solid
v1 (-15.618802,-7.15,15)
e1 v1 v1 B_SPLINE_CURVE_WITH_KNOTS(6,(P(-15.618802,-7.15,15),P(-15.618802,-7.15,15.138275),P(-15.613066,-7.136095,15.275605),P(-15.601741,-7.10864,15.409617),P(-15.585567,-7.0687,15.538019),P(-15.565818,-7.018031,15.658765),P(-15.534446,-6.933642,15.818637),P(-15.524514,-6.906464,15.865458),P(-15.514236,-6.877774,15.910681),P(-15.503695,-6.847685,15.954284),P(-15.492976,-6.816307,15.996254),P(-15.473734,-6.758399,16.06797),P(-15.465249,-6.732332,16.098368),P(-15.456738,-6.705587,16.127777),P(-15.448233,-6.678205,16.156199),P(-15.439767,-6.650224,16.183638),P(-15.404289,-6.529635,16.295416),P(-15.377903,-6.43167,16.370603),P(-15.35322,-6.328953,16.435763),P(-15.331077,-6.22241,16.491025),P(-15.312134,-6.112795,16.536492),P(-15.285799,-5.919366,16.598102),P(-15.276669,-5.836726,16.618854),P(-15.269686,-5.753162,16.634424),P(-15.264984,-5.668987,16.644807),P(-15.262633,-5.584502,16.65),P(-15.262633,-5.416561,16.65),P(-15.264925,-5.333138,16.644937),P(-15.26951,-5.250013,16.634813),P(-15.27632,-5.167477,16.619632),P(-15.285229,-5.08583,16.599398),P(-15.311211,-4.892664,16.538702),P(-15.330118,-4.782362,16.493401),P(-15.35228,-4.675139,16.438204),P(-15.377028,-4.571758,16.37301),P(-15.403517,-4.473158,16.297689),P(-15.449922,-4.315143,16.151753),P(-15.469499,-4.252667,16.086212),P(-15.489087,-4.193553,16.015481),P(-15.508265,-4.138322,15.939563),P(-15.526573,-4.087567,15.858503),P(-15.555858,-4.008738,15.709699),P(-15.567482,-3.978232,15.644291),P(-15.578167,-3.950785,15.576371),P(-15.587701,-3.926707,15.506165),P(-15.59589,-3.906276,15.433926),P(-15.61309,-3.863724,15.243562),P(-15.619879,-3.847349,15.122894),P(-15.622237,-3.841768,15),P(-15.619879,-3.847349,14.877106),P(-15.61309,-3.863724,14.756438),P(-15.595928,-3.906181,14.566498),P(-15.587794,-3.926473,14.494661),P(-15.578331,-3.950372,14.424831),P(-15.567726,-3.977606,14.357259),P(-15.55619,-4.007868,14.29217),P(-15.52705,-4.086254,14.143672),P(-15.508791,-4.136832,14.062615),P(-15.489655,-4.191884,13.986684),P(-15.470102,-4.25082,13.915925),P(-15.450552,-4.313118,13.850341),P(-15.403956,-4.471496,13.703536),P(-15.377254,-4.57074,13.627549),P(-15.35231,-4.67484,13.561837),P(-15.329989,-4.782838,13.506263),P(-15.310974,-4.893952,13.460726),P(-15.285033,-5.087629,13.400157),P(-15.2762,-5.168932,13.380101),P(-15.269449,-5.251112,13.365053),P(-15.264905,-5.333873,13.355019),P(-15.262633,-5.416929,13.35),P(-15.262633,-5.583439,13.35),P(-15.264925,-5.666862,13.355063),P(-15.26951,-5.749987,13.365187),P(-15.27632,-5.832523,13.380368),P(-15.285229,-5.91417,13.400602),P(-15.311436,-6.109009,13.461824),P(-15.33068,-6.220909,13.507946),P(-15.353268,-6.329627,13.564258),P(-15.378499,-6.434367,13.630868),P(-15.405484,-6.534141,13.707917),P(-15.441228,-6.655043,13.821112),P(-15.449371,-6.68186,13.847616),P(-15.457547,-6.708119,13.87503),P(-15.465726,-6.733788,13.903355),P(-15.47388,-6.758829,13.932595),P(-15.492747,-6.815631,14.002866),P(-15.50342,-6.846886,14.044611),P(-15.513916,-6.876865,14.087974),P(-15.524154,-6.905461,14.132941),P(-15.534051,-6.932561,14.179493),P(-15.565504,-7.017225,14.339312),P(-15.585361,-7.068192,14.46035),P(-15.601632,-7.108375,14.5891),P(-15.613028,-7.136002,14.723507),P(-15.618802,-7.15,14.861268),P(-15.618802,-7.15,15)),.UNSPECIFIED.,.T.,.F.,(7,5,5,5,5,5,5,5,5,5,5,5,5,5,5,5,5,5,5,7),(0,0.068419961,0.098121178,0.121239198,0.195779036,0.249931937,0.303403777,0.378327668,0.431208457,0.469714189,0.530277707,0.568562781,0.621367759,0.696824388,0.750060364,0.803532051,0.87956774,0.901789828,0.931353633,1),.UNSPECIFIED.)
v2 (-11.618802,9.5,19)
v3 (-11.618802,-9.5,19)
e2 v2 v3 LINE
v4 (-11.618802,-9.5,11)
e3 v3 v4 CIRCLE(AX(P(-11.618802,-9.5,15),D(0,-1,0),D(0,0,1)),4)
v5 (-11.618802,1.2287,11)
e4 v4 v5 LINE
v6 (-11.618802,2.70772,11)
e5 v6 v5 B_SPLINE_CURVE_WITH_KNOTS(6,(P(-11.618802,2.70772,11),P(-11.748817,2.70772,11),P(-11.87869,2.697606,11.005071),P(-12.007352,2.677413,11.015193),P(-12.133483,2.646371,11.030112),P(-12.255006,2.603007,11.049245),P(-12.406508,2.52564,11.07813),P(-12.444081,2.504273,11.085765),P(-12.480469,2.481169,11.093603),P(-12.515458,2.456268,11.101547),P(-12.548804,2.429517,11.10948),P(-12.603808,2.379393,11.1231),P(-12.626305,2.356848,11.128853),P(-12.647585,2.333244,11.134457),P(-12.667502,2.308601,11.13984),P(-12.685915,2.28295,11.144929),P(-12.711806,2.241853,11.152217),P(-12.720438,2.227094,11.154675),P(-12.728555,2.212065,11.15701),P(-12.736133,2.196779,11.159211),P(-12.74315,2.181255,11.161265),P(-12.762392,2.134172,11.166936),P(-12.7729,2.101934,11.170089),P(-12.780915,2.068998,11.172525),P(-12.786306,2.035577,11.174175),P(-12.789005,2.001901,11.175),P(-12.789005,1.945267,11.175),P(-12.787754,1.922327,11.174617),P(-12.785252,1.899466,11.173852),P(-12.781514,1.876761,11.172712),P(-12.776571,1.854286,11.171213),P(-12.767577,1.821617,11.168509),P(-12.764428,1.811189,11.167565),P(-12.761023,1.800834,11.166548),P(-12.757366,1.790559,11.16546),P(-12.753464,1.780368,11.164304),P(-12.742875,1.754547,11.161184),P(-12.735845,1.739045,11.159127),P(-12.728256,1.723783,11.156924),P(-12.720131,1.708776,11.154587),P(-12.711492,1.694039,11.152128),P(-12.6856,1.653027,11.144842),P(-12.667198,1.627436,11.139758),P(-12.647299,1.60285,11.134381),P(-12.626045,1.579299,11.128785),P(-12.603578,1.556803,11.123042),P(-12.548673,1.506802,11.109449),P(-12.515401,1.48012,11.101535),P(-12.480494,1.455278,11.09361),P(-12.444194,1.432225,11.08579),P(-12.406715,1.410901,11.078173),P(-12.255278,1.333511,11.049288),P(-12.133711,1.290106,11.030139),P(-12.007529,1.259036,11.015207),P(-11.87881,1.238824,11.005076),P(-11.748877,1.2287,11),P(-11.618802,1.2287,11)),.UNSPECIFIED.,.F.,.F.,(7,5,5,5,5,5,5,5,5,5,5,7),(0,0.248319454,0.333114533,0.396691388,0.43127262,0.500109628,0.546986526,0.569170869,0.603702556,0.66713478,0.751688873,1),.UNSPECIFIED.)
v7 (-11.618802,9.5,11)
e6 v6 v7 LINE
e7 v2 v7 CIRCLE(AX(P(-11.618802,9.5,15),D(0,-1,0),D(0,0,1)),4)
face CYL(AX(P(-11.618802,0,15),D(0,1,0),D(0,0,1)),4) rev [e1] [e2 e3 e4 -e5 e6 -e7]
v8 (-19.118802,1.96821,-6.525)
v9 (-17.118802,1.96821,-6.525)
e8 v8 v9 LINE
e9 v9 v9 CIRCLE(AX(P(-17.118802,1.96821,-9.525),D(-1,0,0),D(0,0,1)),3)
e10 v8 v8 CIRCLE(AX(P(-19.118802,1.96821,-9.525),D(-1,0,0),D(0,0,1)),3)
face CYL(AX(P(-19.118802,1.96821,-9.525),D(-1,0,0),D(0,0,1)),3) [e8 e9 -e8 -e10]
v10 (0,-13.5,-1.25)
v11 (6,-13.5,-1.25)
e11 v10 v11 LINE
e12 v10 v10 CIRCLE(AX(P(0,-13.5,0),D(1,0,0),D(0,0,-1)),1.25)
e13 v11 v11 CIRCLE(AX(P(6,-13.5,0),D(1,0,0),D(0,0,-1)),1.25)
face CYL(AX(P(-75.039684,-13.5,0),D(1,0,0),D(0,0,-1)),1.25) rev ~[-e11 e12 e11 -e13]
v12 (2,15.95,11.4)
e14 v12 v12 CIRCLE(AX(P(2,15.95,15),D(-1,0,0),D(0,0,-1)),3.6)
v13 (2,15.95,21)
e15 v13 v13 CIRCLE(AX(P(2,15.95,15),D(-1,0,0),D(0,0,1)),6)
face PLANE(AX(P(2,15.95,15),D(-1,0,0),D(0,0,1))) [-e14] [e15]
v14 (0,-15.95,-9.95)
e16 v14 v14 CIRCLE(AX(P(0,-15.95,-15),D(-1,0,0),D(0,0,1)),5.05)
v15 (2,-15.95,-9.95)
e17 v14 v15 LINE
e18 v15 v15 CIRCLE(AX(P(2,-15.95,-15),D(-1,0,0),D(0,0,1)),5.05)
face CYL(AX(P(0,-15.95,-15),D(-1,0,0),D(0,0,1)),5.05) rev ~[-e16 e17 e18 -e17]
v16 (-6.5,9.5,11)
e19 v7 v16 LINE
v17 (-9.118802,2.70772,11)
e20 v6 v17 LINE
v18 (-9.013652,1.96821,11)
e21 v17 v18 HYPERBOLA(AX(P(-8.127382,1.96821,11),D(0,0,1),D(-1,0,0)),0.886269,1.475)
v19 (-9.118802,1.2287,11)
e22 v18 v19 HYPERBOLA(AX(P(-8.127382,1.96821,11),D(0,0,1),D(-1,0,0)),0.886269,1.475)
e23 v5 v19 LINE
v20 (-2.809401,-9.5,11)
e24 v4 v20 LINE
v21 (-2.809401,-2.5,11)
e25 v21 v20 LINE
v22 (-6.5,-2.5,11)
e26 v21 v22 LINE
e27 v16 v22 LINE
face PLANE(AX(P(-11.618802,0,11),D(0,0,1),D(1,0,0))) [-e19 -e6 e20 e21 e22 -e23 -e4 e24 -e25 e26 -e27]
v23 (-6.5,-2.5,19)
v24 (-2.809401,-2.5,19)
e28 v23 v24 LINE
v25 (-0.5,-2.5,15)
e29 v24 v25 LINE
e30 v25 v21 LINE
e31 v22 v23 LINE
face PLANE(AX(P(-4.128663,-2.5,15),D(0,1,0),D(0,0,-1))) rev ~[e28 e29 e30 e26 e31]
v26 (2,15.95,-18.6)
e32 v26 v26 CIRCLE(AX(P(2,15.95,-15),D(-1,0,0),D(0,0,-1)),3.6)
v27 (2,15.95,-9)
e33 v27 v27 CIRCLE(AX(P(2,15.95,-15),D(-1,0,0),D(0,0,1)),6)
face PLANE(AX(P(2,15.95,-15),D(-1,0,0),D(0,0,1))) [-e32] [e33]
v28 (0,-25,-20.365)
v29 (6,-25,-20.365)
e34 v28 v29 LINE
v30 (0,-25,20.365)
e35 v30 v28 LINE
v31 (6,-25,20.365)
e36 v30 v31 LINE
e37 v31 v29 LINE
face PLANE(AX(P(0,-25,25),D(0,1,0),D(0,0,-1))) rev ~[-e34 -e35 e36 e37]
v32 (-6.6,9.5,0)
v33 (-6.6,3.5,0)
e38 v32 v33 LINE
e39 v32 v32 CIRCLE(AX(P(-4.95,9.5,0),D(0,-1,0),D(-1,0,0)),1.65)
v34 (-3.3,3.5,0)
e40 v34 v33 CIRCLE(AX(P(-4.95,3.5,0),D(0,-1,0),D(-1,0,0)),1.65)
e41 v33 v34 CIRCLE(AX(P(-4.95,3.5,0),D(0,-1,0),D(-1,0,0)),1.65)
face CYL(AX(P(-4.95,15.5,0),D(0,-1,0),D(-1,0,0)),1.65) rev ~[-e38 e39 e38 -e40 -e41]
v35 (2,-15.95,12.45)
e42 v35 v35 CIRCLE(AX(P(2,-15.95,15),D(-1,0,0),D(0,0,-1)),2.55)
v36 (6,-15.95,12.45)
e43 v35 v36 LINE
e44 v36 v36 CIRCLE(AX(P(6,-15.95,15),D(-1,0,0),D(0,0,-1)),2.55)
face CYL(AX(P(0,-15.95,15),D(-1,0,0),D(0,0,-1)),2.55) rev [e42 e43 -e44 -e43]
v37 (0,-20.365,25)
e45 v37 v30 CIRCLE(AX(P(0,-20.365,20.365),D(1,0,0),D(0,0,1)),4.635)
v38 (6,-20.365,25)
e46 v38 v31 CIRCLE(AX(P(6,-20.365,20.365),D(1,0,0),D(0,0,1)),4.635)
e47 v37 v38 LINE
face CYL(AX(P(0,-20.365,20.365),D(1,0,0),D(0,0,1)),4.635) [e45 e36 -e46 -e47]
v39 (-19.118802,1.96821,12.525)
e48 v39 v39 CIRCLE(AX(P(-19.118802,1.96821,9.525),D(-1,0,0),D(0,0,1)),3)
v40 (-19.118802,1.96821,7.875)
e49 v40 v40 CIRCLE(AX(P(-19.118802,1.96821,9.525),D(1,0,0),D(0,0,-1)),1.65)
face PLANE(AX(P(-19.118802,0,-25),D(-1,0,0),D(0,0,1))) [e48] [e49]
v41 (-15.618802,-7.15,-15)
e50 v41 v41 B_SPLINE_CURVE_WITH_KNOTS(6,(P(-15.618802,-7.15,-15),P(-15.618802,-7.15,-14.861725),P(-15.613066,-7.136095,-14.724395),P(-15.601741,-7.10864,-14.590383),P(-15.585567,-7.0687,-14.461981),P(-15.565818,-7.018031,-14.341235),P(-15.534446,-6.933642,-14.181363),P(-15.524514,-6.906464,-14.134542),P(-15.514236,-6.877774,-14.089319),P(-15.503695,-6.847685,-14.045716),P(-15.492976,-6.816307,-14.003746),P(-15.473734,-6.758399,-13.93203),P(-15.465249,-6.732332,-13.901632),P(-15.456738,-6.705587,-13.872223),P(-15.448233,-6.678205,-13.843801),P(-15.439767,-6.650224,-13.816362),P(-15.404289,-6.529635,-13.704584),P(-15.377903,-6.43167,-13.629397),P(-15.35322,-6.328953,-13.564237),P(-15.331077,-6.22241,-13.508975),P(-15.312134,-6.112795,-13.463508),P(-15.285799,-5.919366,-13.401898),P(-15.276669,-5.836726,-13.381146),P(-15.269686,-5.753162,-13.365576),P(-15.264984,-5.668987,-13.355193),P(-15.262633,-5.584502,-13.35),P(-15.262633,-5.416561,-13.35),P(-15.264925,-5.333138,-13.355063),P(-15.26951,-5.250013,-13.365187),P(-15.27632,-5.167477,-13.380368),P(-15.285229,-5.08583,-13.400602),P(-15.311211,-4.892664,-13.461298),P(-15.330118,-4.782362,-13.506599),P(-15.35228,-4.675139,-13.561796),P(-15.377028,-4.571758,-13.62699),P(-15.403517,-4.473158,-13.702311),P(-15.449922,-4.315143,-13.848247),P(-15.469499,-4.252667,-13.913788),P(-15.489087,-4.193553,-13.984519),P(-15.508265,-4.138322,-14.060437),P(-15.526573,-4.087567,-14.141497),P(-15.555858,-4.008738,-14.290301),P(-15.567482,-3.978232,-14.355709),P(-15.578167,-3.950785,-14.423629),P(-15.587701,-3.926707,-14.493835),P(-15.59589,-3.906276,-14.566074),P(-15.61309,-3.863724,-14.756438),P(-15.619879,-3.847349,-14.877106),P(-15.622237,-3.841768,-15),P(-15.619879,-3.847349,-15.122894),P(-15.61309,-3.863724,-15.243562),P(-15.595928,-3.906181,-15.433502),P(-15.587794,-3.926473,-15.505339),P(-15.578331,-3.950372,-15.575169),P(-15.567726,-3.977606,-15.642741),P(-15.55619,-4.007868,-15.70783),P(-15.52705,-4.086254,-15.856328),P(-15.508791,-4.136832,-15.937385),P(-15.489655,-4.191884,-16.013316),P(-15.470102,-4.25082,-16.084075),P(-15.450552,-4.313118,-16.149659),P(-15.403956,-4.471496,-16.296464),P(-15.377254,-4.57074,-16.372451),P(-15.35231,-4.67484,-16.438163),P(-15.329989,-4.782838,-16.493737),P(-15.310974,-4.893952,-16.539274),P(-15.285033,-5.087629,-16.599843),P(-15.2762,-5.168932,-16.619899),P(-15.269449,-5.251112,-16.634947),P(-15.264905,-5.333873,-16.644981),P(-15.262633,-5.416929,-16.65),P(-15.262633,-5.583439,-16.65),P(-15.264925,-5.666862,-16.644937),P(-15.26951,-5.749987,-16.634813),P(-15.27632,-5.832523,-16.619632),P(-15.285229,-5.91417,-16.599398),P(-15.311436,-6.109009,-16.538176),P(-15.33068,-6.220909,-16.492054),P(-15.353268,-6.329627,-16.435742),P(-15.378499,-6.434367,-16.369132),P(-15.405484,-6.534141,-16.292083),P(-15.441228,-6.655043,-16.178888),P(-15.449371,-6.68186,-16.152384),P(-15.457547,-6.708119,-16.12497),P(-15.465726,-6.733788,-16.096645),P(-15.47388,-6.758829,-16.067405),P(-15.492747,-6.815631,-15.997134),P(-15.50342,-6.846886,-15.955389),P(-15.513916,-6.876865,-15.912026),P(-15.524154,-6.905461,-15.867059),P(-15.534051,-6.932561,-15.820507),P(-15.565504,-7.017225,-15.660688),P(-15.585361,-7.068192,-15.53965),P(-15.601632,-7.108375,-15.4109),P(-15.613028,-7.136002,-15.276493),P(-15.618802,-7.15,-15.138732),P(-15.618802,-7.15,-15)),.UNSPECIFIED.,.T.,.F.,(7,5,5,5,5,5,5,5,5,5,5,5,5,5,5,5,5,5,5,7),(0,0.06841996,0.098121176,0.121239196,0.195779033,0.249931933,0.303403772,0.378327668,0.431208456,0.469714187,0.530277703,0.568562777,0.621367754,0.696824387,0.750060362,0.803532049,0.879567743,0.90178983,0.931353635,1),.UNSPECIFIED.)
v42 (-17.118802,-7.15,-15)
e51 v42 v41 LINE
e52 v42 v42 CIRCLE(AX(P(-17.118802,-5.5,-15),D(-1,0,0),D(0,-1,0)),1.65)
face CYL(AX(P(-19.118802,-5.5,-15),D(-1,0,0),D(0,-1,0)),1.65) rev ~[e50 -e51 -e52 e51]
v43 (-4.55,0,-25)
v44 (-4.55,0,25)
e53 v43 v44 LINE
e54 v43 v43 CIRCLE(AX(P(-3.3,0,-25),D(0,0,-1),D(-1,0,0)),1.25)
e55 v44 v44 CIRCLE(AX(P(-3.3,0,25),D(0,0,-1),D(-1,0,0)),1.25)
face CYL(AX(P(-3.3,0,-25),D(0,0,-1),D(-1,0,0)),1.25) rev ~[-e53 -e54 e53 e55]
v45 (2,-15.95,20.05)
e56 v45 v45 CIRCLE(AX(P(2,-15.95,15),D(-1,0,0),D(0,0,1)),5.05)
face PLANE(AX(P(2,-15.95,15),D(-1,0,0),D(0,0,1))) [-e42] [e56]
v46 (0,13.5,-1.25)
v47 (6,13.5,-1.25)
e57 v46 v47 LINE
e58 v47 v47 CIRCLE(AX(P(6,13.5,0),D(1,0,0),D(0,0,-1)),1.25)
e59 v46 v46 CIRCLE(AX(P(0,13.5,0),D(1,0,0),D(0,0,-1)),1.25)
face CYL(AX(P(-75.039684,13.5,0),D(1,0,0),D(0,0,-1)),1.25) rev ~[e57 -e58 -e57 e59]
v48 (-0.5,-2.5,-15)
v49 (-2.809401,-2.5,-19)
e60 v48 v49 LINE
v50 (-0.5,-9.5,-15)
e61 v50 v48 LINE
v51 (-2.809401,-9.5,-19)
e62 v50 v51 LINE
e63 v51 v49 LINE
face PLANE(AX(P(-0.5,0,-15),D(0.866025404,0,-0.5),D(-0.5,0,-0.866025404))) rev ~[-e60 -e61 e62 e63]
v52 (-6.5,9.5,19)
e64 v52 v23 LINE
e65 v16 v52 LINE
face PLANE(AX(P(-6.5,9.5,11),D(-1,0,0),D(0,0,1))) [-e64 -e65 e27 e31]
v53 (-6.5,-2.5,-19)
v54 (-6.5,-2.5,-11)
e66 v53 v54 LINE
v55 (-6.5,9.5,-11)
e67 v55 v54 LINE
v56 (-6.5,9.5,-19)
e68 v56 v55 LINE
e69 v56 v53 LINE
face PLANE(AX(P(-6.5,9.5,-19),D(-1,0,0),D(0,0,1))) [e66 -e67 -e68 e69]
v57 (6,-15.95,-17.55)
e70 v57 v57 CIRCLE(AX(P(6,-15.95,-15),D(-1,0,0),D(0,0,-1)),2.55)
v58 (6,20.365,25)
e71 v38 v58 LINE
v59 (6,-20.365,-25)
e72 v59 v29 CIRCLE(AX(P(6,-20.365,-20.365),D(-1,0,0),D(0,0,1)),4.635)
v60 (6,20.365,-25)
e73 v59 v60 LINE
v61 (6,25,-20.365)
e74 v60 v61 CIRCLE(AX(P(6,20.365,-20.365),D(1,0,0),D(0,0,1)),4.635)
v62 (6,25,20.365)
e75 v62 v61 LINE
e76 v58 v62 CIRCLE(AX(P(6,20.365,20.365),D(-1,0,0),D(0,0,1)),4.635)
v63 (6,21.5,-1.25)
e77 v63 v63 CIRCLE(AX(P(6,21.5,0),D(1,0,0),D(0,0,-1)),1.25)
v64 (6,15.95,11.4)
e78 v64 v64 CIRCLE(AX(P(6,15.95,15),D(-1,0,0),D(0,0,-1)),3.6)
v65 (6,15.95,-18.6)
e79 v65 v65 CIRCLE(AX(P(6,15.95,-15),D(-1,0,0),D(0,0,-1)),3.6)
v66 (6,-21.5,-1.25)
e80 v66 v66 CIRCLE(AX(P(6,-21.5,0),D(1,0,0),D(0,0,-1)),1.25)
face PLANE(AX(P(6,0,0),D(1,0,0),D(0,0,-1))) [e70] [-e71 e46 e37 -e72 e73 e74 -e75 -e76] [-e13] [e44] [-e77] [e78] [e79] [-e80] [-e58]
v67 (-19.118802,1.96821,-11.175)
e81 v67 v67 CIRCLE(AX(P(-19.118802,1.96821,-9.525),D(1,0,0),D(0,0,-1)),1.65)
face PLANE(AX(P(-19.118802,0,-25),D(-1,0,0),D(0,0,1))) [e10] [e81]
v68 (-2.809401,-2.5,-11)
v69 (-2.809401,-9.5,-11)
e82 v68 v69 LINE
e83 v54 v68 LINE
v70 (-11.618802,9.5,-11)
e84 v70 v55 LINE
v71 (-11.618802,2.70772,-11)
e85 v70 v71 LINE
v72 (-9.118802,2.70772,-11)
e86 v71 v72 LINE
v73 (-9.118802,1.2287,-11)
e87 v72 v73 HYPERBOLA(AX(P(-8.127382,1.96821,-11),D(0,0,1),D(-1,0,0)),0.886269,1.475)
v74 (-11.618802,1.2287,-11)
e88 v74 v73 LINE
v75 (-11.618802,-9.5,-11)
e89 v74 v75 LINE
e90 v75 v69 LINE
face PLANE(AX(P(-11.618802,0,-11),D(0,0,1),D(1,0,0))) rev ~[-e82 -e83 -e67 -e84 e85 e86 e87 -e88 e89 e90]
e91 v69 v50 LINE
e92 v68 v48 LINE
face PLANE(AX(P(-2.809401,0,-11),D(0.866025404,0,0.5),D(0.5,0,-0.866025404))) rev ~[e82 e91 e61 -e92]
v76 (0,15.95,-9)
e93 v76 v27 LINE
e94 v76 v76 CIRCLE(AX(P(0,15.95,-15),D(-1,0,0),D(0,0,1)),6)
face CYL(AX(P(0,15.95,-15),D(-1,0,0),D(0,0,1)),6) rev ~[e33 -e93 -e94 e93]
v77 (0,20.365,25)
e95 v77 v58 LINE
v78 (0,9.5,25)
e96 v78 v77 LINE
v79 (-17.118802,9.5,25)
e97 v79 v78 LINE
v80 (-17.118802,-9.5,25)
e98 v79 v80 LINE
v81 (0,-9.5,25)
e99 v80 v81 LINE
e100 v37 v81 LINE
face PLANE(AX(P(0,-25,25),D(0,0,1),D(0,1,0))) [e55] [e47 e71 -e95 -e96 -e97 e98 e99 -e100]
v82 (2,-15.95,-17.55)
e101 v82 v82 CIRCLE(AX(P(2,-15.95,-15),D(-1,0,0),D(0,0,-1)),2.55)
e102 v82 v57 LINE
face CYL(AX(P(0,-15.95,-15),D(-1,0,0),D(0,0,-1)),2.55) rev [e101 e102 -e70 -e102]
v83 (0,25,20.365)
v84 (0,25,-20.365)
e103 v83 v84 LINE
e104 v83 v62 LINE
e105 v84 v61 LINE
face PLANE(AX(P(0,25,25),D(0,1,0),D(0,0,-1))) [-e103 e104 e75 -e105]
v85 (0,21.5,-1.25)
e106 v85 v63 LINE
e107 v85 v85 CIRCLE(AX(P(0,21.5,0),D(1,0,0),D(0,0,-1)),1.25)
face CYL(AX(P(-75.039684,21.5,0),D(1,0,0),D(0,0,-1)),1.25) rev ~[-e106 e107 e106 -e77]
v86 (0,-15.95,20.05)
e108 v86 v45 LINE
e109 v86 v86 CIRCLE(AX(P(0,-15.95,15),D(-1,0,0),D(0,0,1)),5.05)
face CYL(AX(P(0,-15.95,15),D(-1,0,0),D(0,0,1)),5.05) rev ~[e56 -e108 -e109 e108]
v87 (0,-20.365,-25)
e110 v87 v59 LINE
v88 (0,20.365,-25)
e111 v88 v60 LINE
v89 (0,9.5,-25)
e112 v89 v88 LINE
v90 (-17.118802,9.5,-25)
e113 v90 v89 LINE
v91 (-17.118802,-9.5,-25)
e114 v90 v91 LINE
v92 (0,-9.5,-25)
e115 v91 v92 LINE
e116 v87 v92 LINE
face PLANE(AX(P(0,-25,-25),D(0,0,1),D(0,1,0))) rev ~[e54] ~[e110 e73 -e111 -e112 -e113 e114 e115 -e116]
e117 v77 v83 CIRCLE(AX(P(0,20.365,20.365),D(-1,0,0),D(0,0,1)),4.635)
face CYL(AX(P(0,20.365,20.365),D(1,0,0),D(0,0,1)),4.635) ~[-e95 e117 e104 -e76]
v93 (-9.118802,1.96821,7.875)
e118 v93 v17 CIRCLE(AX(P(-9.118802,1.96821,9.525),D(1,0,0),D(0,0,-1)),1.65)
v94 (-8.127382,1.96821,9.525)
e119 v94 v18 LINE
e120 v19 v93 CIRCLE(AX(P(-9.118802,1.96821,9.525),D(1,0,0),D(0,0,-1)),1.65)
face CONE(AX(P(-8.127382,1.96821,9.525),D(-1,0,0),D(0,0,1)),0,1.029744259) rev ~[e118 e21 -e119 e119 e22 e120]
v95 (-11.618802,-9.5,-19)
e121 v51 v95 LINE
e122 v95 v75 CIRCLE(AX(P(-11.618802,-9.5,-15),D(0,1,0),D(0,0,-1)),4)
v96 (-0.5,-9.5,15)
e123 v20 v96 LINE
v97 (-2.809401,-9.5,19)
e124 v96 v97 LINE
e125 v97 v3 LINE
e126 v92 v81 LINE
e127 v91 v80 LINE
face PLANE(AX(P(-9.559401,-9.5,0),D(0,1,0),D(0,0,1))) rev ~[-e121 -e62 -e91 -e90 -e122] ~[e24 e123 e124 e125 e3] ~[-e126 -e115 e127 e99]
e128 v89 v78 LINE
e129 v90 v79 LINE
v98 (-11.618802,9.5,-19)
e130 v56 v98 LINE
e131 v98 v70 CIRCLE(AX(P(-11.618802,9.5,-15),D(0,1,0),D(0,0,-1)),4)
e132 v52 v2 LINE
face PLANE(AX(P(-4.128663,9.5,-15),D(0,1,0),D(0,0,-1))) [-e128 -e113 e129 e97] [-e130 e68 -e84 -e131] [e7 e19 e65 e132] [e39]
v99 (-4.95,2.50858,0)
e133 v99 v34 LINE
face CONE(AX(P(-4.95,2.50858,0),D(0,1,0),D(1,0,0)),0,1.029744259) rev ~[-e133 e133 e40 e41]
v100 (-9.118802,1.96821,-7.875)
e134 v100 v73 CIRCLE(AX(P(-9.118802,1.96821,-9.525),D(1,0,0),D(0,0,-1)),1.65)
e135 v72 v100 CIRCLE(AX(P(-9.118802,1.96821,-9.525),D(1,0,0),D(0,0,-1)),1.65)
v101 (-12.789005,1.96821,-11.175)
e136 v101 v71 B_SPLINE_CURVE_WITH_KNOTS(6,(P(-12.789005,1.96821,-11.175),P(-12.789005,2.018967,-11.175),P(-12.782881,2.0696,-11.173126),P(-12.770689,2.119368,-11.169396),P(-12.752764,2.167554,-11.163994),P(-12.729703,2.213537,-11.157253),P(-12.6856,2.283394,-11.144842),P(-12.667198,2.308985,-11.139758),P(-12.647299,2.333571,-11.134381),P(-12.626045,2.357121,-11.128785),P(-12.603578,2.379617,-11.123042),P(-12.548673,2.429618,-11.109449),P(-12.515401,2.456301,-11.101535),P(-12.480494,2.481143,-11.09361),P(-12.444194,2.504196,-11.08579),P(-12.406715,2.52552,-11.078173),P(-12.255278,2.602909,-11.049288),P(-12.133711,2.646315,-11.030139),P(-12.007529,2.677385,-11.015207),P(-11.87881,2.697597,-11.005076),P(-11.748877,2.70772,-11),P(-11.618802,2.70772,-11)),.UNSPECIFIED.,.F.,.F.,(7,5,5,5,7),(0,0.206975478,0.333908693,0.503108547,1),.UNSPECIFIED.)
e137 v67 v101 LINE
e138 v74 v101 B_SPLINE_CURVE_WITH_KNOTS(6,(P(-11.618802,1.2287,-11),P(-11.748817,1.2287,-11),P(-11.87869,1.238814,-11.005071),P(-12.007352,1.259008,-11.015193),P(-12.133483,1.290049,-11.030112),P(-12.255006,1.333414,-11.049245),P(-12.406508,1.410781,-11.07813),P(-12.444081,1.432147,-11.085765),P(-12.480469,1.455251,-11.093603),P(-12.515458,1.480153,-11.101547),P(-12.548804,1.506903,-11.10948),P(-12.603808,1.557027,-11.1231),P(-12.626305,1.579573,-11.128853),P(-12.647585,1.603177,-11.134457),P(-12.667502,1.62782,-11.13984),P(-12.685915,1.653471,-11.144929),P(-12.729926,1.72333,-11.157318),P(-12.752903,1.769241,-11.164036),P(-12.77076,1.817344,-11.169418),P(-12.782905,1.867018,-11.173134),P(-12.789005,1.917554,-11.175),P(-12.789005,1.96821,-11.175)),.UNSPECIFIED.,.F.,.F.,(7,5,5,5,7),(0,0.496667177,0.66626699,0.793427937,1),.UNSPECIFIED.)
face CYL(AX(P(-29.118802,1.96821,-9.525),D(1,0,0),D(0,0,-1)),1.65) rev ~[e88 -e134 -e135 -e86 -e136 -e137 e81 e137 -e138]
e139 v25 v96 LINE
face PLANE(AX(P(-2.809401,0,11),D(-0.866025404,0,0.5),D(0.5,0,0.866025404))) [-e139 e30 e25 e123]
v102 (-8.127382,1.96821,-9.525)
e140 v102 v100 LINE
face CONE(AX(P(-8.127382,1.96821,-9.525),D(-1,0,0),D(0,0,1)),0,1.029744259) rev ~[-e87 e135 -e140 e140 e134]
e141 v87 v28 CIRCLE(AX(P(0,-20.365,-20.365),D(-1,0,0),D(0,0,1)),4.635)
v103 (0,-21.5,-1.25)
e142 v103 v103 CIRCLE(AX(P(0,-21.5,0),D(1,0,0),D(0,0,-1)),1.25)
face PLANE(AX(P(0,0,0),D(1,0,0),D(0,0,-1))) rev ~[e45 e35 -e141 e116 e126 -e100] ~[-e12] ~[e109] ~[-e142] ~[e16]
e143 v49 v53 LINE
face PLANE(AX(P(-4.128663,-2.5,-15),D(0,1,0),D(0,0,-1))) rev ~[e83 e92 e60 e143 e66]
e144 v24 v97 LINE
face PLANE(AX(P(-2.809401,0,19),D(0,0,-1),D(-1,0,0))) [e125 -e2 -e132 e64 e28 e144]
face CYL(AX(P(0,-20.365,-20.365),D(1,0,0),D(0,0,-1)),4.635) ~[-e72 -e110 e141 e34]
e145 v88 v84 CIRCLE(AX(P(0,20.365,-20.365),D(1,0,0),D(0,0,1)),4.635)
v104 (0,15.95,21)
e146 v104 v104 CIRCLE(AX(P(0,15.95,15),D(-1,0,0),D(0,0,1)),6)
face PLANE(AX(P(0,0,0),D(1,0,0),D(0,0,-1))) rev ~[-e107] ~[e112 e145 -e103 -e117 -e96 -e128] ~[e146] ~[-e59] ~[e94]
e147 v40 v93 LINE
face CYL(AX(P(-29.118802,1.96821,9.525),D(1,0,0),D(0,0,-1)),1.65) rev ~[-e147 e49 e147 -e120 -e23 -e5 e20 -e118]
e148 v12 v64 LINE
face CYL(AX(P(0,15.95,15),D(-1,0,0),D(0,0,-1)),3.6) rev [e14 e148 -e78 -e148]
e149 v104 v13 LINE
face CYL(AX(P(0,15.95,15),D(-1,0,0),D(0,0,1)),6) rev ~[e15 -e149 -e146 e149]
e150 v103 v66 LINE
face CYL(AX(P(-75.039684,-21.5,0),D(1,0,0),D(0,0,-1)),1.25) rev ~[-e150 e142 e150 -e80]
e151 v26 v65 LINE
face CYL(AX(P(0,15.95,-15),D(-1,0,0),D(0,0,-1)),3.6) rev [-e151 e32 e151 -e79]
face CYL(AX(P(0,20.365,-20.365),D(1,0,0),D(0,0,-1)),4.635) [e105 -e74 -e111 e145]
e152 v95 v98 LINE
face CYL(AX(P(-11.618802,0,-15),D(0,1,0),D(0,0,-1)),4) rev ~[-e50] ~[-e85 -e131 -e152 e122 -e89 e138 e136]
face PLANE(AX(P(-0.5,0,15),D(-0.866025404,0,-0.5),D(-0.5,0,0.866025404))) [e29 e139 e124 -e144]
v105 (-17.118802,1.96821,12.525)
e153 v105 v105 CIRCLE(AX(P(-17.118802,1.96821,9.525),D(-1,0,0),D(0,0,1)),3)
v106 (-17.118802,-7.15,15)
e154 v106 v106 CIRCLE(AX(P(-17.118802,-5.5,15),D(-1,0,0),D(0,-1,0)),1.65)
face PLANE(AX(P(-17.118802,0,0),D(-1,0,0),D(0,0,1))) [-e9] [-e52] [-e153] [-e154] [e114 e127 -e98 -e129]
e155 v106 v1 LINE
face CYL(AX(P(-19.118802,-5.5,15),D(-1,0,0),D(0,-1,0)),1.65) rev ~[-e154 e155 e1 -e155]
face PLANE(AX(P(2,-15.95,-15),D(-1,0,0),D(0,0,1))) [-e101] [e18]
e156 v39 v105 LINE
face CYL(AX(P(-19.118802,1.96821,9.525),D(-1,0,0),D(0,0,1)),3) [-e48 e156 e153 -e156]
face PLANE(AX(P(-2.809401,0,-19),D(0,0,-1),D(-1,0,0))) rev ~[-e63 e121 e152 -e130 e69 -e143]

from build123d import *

# Parameters (mm, degrees)
SKETCH2_W                  = 50
SKETCH2_H                  = 50
BOSS_EXTRUDE1_DEPTH        = 6
SKETCH3_W                  = 50
SKETCH3_H                  = 19.118802154
BOSS_EXTRUDE2_DEPTH        = 9.5
BOSS_EXTRUDE3_DEPTH        = 12
SKETCH6_R                  = 3.6
SKETCH6_R_2                = 2.55
CUT_EXTRUDE2_DEPTH         = 41.193638748
SKETCH7_R                  = 5.05
SKETCH7_R_2                = 6
CUT_EXTRUDE3_DEPTH         = 2
M4X0_7_TAPPED_HOLE1_REACH  = 45.37
M4X0_7_TAPPED_HOLE1_BORE_R = 1.65
M4X0_7_TAPPED_HOLE2_D      = 3.3
M4X0_7_TAPPED_HOLE2_DEPTH  = 10
M4X0_7_TAPPED_HOLE2_TIP    = 0.991420021
FILLET1_R                  = 4.635
M3X0_5_TAPPED_HOLE1_D      = 2.5
M4X0_7_TAPPED_HOLE3_D      = 3.3
M4X0_7_TAPPED_HOLE3_DEPTH  = 6
M4X0_7_TAPPED_HOLE3_TIP    = 0.991420021
SKETCH17_R                 = 1.25
CUT_EXTRUDE4_DEPTH         = 60.080695659
SKETCH18_OUTSIDE_W         = 67.008
SKETCH18_OUTSIDE_H         = 67.008
SKETCH18_OUTSIDE_R         = 3
CUT_EXTRUDE5_DEPTH         = 2


with BuildPart() as part:
    # Sketch2 → Boss-Extrude1 (new body)
    with BuildSketch(Plane(origin=(0, 0, 0), x_dir=(0, 0, -1), z_dir=(1, 0, 0))):
        Rectangle(SKETCH2_W, SKETCH2_H)
    extrude(amount=BOSS_EXTRUDE1_DEPTH)

    # Sketch3 → Boss-Extrude2 (add, symmetric)
    with BuildSketch(Plane(origin=(25, 0, 0), x_dir=(0, 0, 1), z_dir=(0, 1, 0))):
        with Locations((0, -34.559401077)):
            Rectangle(SKETCH3_W, SKETCH3_H)
        with BuildLine():
            Line((-19, -32.42820323), (-19, -36.618802154))
            ThreePointArc((-19, -36.618802154), (-15, -40.618802154), (-11, -36.618802154))
            Line((-11, -36.618802154), (-11, -32.42820323))
            Line((-11, -32.42820323), (-11, -27.809401077))
            Line((-11, -27.809401077), (-15, -25.5))
            Line((-15, -25.5), (-19, -27.809401077))
            Line((-19, -27.809401077), (-19, -32.42820323))
        make_face(mode=Mode.SUBTRACT)
        with BuildLine():
            Line((11, -36.618802154), (11, -32.42820323))
            Line((11, -32.42820323), (11, -27.809401077))
            Line((11, -27.809401077), (15, -25.5))
            Line((15, -25.5), (19, -27.809401077))
            Line((19, -27.809401077), (19, -32.42820323))
            Line((19, -32.42820323), (19, -36.618802154))
            ThreePointArc((19, -36.618802154), (15, -40.618802154), (11, -36.618802154))
        make_face(mode=Mode.SUBTRACT)
    extrude(amount=BOSS_EXTRUDE2_DEPTH, both=True)

    # Sketch5 → Boss-Extrude3 (add)
    with BuildSketch(Plane(origin=(9.5, 9.5, 0), x_dir=(0, 0, 1), z_dir=(0, -1, 0))):
        Polygon((-19, 16), (-11, 16), (-11, 12.309401077), (-15, 10), (-19, 12.309401077), align=None)
        Polygon((11, 16), (19, 16), (19, 12.309401077), (15, 10), (11, 12.309401077), align=None)
    extrude(amount=BOSS_EXTRUDE3_DEPTH)

    # Sketch6 → Cut-Extrude2 (cut, through all)
    with BuildSketch(Plane(origin=(0, 0, 0), x_dir=(0, 0, -1), z_dir=(1, 0, 0))):
        with Locations((-15, 15.95)):
            Circle(SKETCH6_R)
        with Locations((15, 15.95)):
            Circle(SKETCH6_R)
        with Locations((-15, -15.95)):
            Circle(SKETCH6_R_2)
        with Locations((15, -15.95)):
            Circle(SKETCH6_R_2)
    extrude(amount=CUT_EXTRUDE2_DEPTH, mode=Mode.SUBTRACT)

    # Sketch7 → Cut-Extrude3 (cut)
    with BuildSketch(Plane.ZY):
        with Locations((-15, -15.95)):
            Circle(SKETCH7_R)
        with Locations((15, -15.95)):
            Circle(SKETCH7_R)
        with Locations((-15, 15.95)):
            Circle(SKETCH7_R_2)
        with Locations((15, 15.95)):
            Circle(SKETCH7_R_2)
    extrude(amount=-CUT_EXTRUDE3_DEPTH, mode=Mode.SUBTRACT)

    # M4x0.7 Tapped Hole1 bore → M4x0.7 Tapped Hole1 (cut, up to next)
    with BuildSketch(Plane(origin=(-19.118802154, 0, 0), x_dir=(0, -1, 0), z_dir=(-1, 0, 0)), mode=Mode.PRIVATE) as m4x0_7_tapped_hole1_sk1:
        with Locations((5.5, -15)):
            Circle(M4X0_7_TAPPED_HOLE1_BORE_R)
    m4x0_7_tapped_hole1_tool1 = extrude(m4x0_7_tapped_hole1_sk1.sketch, amount=-M4X0_7_TAPPED_HOLE1_REACH, mode=Mode.PRIVATE) & part.part
    # M4x0.7 Tapped Hole1 bore → M4x0.7 Tapped Hole1 (cut, up to next)
    with BuildSketch(Plane(origin=(-19.118802154, 0, 0), x_dir=(0, -1, 0), z_dir=(-1, 0, 0)), mode=Mode.PRIVATE) as m4x0_7_tapped_hole1_sk2:
        with Locations((5.5, 15)):
            Circle(M4X0_7_TAPPED_HOLE1_BORE_R)
    m4x0_7_tapped_hole1_tool2 = extrude(m4x0_7_tapped_hole1_sk2.sketch, amount=-M4X0_7_TAPPED_HOLE1_REACH, mode=Mode.PRIVATE) & part.part
    add(m4x0_7_tapped_hole1_tool1.solids().sort_by_distance((-19.118802, -5.5, -15))[0], mode=Mode.SUBTRACT)
    add(m4x0_7_tapped_hole1_tool2.solids().sort_by_distance((-19.118802, -5.5, 15))[0], mode=Mode.SUBTRACT)

    # M4x0.7 Tapped Hole2
    with Locations(Plane.ZY.offset(19.118802154)):
        with Locations((-9.525, 1.96821034), (9.525, 1.96821034)):
            Hole(M4X0_7_TAPPED_HOLE2_D / 2, depth=M4X0_7_TAPPED_HOLE2_DEPTH)
            with Locations((0, 0, -(M4X0_7_TAPPED_HOLE2_DEPTH + M4X0_7_TAPPED_HOLE2_TIP / 2))):  # 118° drill point
                Cone(0, M4X0_7_TAPPED_HOLE2_D / 2, M4X0_7_TAPPED_HOLE2_TIP, mode=Mode.SUBTRACT)

    # Fillet1
    fillet1_edges = [part.edges().sort_by_distance(p)[0] for p in [
        (3, -25, -25),
        (3, -25, 25),
        (3, 25, 25),
        (3, 25, -25),
    ]]
    fillet(fillet1_edges, radius=FILLET1_R)

    # M3x0.5 Tapped Hole1 (through all)
    with Locations(Plane.ZY):
        with Locations((0, 21.5), (0, -21.5), (0, -13.5), (0, 13.5)):
            Hole(M3X0_5_TAPPED_HOLE1_D / 2)

    # M4x0.7 Tapped Hole3
    with Locations(Plane(origin=(0, 9.5, 0), x_dir=(1, 0, 0), z_dir=(0, 1, 0))):
        with Locations((-4.95, 0)):
            Hole(M4X0_7_TAPPED_HOLE3_D / 2, depth=M4X0_7_TAPPED_HOLE3_DEPTH)
            with Locations((0, 0, -(M4X0_7_TAPPED_HOLE3_DEPTH + M4X0_7_TAPPED_HOLE3_TIP / 2))):  # 118° drill point
                Cone(0, M4X0_7_TAPPED_HOLE3_D / 2, M4X0_7_TAPPED_HOLE3_TIP, mode=Mode.SUBTRACT)

    # Sketch17 → Cut-Extrude4 (cut, through all)
    with BuildSketch(Plane(origin=(0, 0, -25), x_dir=(-1, 0, 0), z_dir=(0, 0, -1))):
        with Locations((3.3, 0)):
            Circle(SKETCH17_R)
    extrude(amount=-CUT_EXTRUDE4_DEPTH, mode=Mode.SUBTRACT)

    # Sketch18 outside → Cut-Extrude5 (cut)
    with BuildSketch(Plane.ZY.offset(19.118802154)):
        Rectangle(SKETCH18_OUTSIDE_W, SKETCH18_OUTSIDE_H)
        with Locations((-9.525, 1.96821034)):
            Circle(SKETCH18_OUTSIDE_R, mode=Mode.SUBTRACT)
        with Locations((9.525, 1.96821034)):
            Circle(SKETCH18_OUTSIDE_R, mode=Mode.SUBTRACT)
    extrude(amount=-CUT_EXTRUDE5_DEPTH, mode=Mode.SUBTRACT)


solid = part.part
